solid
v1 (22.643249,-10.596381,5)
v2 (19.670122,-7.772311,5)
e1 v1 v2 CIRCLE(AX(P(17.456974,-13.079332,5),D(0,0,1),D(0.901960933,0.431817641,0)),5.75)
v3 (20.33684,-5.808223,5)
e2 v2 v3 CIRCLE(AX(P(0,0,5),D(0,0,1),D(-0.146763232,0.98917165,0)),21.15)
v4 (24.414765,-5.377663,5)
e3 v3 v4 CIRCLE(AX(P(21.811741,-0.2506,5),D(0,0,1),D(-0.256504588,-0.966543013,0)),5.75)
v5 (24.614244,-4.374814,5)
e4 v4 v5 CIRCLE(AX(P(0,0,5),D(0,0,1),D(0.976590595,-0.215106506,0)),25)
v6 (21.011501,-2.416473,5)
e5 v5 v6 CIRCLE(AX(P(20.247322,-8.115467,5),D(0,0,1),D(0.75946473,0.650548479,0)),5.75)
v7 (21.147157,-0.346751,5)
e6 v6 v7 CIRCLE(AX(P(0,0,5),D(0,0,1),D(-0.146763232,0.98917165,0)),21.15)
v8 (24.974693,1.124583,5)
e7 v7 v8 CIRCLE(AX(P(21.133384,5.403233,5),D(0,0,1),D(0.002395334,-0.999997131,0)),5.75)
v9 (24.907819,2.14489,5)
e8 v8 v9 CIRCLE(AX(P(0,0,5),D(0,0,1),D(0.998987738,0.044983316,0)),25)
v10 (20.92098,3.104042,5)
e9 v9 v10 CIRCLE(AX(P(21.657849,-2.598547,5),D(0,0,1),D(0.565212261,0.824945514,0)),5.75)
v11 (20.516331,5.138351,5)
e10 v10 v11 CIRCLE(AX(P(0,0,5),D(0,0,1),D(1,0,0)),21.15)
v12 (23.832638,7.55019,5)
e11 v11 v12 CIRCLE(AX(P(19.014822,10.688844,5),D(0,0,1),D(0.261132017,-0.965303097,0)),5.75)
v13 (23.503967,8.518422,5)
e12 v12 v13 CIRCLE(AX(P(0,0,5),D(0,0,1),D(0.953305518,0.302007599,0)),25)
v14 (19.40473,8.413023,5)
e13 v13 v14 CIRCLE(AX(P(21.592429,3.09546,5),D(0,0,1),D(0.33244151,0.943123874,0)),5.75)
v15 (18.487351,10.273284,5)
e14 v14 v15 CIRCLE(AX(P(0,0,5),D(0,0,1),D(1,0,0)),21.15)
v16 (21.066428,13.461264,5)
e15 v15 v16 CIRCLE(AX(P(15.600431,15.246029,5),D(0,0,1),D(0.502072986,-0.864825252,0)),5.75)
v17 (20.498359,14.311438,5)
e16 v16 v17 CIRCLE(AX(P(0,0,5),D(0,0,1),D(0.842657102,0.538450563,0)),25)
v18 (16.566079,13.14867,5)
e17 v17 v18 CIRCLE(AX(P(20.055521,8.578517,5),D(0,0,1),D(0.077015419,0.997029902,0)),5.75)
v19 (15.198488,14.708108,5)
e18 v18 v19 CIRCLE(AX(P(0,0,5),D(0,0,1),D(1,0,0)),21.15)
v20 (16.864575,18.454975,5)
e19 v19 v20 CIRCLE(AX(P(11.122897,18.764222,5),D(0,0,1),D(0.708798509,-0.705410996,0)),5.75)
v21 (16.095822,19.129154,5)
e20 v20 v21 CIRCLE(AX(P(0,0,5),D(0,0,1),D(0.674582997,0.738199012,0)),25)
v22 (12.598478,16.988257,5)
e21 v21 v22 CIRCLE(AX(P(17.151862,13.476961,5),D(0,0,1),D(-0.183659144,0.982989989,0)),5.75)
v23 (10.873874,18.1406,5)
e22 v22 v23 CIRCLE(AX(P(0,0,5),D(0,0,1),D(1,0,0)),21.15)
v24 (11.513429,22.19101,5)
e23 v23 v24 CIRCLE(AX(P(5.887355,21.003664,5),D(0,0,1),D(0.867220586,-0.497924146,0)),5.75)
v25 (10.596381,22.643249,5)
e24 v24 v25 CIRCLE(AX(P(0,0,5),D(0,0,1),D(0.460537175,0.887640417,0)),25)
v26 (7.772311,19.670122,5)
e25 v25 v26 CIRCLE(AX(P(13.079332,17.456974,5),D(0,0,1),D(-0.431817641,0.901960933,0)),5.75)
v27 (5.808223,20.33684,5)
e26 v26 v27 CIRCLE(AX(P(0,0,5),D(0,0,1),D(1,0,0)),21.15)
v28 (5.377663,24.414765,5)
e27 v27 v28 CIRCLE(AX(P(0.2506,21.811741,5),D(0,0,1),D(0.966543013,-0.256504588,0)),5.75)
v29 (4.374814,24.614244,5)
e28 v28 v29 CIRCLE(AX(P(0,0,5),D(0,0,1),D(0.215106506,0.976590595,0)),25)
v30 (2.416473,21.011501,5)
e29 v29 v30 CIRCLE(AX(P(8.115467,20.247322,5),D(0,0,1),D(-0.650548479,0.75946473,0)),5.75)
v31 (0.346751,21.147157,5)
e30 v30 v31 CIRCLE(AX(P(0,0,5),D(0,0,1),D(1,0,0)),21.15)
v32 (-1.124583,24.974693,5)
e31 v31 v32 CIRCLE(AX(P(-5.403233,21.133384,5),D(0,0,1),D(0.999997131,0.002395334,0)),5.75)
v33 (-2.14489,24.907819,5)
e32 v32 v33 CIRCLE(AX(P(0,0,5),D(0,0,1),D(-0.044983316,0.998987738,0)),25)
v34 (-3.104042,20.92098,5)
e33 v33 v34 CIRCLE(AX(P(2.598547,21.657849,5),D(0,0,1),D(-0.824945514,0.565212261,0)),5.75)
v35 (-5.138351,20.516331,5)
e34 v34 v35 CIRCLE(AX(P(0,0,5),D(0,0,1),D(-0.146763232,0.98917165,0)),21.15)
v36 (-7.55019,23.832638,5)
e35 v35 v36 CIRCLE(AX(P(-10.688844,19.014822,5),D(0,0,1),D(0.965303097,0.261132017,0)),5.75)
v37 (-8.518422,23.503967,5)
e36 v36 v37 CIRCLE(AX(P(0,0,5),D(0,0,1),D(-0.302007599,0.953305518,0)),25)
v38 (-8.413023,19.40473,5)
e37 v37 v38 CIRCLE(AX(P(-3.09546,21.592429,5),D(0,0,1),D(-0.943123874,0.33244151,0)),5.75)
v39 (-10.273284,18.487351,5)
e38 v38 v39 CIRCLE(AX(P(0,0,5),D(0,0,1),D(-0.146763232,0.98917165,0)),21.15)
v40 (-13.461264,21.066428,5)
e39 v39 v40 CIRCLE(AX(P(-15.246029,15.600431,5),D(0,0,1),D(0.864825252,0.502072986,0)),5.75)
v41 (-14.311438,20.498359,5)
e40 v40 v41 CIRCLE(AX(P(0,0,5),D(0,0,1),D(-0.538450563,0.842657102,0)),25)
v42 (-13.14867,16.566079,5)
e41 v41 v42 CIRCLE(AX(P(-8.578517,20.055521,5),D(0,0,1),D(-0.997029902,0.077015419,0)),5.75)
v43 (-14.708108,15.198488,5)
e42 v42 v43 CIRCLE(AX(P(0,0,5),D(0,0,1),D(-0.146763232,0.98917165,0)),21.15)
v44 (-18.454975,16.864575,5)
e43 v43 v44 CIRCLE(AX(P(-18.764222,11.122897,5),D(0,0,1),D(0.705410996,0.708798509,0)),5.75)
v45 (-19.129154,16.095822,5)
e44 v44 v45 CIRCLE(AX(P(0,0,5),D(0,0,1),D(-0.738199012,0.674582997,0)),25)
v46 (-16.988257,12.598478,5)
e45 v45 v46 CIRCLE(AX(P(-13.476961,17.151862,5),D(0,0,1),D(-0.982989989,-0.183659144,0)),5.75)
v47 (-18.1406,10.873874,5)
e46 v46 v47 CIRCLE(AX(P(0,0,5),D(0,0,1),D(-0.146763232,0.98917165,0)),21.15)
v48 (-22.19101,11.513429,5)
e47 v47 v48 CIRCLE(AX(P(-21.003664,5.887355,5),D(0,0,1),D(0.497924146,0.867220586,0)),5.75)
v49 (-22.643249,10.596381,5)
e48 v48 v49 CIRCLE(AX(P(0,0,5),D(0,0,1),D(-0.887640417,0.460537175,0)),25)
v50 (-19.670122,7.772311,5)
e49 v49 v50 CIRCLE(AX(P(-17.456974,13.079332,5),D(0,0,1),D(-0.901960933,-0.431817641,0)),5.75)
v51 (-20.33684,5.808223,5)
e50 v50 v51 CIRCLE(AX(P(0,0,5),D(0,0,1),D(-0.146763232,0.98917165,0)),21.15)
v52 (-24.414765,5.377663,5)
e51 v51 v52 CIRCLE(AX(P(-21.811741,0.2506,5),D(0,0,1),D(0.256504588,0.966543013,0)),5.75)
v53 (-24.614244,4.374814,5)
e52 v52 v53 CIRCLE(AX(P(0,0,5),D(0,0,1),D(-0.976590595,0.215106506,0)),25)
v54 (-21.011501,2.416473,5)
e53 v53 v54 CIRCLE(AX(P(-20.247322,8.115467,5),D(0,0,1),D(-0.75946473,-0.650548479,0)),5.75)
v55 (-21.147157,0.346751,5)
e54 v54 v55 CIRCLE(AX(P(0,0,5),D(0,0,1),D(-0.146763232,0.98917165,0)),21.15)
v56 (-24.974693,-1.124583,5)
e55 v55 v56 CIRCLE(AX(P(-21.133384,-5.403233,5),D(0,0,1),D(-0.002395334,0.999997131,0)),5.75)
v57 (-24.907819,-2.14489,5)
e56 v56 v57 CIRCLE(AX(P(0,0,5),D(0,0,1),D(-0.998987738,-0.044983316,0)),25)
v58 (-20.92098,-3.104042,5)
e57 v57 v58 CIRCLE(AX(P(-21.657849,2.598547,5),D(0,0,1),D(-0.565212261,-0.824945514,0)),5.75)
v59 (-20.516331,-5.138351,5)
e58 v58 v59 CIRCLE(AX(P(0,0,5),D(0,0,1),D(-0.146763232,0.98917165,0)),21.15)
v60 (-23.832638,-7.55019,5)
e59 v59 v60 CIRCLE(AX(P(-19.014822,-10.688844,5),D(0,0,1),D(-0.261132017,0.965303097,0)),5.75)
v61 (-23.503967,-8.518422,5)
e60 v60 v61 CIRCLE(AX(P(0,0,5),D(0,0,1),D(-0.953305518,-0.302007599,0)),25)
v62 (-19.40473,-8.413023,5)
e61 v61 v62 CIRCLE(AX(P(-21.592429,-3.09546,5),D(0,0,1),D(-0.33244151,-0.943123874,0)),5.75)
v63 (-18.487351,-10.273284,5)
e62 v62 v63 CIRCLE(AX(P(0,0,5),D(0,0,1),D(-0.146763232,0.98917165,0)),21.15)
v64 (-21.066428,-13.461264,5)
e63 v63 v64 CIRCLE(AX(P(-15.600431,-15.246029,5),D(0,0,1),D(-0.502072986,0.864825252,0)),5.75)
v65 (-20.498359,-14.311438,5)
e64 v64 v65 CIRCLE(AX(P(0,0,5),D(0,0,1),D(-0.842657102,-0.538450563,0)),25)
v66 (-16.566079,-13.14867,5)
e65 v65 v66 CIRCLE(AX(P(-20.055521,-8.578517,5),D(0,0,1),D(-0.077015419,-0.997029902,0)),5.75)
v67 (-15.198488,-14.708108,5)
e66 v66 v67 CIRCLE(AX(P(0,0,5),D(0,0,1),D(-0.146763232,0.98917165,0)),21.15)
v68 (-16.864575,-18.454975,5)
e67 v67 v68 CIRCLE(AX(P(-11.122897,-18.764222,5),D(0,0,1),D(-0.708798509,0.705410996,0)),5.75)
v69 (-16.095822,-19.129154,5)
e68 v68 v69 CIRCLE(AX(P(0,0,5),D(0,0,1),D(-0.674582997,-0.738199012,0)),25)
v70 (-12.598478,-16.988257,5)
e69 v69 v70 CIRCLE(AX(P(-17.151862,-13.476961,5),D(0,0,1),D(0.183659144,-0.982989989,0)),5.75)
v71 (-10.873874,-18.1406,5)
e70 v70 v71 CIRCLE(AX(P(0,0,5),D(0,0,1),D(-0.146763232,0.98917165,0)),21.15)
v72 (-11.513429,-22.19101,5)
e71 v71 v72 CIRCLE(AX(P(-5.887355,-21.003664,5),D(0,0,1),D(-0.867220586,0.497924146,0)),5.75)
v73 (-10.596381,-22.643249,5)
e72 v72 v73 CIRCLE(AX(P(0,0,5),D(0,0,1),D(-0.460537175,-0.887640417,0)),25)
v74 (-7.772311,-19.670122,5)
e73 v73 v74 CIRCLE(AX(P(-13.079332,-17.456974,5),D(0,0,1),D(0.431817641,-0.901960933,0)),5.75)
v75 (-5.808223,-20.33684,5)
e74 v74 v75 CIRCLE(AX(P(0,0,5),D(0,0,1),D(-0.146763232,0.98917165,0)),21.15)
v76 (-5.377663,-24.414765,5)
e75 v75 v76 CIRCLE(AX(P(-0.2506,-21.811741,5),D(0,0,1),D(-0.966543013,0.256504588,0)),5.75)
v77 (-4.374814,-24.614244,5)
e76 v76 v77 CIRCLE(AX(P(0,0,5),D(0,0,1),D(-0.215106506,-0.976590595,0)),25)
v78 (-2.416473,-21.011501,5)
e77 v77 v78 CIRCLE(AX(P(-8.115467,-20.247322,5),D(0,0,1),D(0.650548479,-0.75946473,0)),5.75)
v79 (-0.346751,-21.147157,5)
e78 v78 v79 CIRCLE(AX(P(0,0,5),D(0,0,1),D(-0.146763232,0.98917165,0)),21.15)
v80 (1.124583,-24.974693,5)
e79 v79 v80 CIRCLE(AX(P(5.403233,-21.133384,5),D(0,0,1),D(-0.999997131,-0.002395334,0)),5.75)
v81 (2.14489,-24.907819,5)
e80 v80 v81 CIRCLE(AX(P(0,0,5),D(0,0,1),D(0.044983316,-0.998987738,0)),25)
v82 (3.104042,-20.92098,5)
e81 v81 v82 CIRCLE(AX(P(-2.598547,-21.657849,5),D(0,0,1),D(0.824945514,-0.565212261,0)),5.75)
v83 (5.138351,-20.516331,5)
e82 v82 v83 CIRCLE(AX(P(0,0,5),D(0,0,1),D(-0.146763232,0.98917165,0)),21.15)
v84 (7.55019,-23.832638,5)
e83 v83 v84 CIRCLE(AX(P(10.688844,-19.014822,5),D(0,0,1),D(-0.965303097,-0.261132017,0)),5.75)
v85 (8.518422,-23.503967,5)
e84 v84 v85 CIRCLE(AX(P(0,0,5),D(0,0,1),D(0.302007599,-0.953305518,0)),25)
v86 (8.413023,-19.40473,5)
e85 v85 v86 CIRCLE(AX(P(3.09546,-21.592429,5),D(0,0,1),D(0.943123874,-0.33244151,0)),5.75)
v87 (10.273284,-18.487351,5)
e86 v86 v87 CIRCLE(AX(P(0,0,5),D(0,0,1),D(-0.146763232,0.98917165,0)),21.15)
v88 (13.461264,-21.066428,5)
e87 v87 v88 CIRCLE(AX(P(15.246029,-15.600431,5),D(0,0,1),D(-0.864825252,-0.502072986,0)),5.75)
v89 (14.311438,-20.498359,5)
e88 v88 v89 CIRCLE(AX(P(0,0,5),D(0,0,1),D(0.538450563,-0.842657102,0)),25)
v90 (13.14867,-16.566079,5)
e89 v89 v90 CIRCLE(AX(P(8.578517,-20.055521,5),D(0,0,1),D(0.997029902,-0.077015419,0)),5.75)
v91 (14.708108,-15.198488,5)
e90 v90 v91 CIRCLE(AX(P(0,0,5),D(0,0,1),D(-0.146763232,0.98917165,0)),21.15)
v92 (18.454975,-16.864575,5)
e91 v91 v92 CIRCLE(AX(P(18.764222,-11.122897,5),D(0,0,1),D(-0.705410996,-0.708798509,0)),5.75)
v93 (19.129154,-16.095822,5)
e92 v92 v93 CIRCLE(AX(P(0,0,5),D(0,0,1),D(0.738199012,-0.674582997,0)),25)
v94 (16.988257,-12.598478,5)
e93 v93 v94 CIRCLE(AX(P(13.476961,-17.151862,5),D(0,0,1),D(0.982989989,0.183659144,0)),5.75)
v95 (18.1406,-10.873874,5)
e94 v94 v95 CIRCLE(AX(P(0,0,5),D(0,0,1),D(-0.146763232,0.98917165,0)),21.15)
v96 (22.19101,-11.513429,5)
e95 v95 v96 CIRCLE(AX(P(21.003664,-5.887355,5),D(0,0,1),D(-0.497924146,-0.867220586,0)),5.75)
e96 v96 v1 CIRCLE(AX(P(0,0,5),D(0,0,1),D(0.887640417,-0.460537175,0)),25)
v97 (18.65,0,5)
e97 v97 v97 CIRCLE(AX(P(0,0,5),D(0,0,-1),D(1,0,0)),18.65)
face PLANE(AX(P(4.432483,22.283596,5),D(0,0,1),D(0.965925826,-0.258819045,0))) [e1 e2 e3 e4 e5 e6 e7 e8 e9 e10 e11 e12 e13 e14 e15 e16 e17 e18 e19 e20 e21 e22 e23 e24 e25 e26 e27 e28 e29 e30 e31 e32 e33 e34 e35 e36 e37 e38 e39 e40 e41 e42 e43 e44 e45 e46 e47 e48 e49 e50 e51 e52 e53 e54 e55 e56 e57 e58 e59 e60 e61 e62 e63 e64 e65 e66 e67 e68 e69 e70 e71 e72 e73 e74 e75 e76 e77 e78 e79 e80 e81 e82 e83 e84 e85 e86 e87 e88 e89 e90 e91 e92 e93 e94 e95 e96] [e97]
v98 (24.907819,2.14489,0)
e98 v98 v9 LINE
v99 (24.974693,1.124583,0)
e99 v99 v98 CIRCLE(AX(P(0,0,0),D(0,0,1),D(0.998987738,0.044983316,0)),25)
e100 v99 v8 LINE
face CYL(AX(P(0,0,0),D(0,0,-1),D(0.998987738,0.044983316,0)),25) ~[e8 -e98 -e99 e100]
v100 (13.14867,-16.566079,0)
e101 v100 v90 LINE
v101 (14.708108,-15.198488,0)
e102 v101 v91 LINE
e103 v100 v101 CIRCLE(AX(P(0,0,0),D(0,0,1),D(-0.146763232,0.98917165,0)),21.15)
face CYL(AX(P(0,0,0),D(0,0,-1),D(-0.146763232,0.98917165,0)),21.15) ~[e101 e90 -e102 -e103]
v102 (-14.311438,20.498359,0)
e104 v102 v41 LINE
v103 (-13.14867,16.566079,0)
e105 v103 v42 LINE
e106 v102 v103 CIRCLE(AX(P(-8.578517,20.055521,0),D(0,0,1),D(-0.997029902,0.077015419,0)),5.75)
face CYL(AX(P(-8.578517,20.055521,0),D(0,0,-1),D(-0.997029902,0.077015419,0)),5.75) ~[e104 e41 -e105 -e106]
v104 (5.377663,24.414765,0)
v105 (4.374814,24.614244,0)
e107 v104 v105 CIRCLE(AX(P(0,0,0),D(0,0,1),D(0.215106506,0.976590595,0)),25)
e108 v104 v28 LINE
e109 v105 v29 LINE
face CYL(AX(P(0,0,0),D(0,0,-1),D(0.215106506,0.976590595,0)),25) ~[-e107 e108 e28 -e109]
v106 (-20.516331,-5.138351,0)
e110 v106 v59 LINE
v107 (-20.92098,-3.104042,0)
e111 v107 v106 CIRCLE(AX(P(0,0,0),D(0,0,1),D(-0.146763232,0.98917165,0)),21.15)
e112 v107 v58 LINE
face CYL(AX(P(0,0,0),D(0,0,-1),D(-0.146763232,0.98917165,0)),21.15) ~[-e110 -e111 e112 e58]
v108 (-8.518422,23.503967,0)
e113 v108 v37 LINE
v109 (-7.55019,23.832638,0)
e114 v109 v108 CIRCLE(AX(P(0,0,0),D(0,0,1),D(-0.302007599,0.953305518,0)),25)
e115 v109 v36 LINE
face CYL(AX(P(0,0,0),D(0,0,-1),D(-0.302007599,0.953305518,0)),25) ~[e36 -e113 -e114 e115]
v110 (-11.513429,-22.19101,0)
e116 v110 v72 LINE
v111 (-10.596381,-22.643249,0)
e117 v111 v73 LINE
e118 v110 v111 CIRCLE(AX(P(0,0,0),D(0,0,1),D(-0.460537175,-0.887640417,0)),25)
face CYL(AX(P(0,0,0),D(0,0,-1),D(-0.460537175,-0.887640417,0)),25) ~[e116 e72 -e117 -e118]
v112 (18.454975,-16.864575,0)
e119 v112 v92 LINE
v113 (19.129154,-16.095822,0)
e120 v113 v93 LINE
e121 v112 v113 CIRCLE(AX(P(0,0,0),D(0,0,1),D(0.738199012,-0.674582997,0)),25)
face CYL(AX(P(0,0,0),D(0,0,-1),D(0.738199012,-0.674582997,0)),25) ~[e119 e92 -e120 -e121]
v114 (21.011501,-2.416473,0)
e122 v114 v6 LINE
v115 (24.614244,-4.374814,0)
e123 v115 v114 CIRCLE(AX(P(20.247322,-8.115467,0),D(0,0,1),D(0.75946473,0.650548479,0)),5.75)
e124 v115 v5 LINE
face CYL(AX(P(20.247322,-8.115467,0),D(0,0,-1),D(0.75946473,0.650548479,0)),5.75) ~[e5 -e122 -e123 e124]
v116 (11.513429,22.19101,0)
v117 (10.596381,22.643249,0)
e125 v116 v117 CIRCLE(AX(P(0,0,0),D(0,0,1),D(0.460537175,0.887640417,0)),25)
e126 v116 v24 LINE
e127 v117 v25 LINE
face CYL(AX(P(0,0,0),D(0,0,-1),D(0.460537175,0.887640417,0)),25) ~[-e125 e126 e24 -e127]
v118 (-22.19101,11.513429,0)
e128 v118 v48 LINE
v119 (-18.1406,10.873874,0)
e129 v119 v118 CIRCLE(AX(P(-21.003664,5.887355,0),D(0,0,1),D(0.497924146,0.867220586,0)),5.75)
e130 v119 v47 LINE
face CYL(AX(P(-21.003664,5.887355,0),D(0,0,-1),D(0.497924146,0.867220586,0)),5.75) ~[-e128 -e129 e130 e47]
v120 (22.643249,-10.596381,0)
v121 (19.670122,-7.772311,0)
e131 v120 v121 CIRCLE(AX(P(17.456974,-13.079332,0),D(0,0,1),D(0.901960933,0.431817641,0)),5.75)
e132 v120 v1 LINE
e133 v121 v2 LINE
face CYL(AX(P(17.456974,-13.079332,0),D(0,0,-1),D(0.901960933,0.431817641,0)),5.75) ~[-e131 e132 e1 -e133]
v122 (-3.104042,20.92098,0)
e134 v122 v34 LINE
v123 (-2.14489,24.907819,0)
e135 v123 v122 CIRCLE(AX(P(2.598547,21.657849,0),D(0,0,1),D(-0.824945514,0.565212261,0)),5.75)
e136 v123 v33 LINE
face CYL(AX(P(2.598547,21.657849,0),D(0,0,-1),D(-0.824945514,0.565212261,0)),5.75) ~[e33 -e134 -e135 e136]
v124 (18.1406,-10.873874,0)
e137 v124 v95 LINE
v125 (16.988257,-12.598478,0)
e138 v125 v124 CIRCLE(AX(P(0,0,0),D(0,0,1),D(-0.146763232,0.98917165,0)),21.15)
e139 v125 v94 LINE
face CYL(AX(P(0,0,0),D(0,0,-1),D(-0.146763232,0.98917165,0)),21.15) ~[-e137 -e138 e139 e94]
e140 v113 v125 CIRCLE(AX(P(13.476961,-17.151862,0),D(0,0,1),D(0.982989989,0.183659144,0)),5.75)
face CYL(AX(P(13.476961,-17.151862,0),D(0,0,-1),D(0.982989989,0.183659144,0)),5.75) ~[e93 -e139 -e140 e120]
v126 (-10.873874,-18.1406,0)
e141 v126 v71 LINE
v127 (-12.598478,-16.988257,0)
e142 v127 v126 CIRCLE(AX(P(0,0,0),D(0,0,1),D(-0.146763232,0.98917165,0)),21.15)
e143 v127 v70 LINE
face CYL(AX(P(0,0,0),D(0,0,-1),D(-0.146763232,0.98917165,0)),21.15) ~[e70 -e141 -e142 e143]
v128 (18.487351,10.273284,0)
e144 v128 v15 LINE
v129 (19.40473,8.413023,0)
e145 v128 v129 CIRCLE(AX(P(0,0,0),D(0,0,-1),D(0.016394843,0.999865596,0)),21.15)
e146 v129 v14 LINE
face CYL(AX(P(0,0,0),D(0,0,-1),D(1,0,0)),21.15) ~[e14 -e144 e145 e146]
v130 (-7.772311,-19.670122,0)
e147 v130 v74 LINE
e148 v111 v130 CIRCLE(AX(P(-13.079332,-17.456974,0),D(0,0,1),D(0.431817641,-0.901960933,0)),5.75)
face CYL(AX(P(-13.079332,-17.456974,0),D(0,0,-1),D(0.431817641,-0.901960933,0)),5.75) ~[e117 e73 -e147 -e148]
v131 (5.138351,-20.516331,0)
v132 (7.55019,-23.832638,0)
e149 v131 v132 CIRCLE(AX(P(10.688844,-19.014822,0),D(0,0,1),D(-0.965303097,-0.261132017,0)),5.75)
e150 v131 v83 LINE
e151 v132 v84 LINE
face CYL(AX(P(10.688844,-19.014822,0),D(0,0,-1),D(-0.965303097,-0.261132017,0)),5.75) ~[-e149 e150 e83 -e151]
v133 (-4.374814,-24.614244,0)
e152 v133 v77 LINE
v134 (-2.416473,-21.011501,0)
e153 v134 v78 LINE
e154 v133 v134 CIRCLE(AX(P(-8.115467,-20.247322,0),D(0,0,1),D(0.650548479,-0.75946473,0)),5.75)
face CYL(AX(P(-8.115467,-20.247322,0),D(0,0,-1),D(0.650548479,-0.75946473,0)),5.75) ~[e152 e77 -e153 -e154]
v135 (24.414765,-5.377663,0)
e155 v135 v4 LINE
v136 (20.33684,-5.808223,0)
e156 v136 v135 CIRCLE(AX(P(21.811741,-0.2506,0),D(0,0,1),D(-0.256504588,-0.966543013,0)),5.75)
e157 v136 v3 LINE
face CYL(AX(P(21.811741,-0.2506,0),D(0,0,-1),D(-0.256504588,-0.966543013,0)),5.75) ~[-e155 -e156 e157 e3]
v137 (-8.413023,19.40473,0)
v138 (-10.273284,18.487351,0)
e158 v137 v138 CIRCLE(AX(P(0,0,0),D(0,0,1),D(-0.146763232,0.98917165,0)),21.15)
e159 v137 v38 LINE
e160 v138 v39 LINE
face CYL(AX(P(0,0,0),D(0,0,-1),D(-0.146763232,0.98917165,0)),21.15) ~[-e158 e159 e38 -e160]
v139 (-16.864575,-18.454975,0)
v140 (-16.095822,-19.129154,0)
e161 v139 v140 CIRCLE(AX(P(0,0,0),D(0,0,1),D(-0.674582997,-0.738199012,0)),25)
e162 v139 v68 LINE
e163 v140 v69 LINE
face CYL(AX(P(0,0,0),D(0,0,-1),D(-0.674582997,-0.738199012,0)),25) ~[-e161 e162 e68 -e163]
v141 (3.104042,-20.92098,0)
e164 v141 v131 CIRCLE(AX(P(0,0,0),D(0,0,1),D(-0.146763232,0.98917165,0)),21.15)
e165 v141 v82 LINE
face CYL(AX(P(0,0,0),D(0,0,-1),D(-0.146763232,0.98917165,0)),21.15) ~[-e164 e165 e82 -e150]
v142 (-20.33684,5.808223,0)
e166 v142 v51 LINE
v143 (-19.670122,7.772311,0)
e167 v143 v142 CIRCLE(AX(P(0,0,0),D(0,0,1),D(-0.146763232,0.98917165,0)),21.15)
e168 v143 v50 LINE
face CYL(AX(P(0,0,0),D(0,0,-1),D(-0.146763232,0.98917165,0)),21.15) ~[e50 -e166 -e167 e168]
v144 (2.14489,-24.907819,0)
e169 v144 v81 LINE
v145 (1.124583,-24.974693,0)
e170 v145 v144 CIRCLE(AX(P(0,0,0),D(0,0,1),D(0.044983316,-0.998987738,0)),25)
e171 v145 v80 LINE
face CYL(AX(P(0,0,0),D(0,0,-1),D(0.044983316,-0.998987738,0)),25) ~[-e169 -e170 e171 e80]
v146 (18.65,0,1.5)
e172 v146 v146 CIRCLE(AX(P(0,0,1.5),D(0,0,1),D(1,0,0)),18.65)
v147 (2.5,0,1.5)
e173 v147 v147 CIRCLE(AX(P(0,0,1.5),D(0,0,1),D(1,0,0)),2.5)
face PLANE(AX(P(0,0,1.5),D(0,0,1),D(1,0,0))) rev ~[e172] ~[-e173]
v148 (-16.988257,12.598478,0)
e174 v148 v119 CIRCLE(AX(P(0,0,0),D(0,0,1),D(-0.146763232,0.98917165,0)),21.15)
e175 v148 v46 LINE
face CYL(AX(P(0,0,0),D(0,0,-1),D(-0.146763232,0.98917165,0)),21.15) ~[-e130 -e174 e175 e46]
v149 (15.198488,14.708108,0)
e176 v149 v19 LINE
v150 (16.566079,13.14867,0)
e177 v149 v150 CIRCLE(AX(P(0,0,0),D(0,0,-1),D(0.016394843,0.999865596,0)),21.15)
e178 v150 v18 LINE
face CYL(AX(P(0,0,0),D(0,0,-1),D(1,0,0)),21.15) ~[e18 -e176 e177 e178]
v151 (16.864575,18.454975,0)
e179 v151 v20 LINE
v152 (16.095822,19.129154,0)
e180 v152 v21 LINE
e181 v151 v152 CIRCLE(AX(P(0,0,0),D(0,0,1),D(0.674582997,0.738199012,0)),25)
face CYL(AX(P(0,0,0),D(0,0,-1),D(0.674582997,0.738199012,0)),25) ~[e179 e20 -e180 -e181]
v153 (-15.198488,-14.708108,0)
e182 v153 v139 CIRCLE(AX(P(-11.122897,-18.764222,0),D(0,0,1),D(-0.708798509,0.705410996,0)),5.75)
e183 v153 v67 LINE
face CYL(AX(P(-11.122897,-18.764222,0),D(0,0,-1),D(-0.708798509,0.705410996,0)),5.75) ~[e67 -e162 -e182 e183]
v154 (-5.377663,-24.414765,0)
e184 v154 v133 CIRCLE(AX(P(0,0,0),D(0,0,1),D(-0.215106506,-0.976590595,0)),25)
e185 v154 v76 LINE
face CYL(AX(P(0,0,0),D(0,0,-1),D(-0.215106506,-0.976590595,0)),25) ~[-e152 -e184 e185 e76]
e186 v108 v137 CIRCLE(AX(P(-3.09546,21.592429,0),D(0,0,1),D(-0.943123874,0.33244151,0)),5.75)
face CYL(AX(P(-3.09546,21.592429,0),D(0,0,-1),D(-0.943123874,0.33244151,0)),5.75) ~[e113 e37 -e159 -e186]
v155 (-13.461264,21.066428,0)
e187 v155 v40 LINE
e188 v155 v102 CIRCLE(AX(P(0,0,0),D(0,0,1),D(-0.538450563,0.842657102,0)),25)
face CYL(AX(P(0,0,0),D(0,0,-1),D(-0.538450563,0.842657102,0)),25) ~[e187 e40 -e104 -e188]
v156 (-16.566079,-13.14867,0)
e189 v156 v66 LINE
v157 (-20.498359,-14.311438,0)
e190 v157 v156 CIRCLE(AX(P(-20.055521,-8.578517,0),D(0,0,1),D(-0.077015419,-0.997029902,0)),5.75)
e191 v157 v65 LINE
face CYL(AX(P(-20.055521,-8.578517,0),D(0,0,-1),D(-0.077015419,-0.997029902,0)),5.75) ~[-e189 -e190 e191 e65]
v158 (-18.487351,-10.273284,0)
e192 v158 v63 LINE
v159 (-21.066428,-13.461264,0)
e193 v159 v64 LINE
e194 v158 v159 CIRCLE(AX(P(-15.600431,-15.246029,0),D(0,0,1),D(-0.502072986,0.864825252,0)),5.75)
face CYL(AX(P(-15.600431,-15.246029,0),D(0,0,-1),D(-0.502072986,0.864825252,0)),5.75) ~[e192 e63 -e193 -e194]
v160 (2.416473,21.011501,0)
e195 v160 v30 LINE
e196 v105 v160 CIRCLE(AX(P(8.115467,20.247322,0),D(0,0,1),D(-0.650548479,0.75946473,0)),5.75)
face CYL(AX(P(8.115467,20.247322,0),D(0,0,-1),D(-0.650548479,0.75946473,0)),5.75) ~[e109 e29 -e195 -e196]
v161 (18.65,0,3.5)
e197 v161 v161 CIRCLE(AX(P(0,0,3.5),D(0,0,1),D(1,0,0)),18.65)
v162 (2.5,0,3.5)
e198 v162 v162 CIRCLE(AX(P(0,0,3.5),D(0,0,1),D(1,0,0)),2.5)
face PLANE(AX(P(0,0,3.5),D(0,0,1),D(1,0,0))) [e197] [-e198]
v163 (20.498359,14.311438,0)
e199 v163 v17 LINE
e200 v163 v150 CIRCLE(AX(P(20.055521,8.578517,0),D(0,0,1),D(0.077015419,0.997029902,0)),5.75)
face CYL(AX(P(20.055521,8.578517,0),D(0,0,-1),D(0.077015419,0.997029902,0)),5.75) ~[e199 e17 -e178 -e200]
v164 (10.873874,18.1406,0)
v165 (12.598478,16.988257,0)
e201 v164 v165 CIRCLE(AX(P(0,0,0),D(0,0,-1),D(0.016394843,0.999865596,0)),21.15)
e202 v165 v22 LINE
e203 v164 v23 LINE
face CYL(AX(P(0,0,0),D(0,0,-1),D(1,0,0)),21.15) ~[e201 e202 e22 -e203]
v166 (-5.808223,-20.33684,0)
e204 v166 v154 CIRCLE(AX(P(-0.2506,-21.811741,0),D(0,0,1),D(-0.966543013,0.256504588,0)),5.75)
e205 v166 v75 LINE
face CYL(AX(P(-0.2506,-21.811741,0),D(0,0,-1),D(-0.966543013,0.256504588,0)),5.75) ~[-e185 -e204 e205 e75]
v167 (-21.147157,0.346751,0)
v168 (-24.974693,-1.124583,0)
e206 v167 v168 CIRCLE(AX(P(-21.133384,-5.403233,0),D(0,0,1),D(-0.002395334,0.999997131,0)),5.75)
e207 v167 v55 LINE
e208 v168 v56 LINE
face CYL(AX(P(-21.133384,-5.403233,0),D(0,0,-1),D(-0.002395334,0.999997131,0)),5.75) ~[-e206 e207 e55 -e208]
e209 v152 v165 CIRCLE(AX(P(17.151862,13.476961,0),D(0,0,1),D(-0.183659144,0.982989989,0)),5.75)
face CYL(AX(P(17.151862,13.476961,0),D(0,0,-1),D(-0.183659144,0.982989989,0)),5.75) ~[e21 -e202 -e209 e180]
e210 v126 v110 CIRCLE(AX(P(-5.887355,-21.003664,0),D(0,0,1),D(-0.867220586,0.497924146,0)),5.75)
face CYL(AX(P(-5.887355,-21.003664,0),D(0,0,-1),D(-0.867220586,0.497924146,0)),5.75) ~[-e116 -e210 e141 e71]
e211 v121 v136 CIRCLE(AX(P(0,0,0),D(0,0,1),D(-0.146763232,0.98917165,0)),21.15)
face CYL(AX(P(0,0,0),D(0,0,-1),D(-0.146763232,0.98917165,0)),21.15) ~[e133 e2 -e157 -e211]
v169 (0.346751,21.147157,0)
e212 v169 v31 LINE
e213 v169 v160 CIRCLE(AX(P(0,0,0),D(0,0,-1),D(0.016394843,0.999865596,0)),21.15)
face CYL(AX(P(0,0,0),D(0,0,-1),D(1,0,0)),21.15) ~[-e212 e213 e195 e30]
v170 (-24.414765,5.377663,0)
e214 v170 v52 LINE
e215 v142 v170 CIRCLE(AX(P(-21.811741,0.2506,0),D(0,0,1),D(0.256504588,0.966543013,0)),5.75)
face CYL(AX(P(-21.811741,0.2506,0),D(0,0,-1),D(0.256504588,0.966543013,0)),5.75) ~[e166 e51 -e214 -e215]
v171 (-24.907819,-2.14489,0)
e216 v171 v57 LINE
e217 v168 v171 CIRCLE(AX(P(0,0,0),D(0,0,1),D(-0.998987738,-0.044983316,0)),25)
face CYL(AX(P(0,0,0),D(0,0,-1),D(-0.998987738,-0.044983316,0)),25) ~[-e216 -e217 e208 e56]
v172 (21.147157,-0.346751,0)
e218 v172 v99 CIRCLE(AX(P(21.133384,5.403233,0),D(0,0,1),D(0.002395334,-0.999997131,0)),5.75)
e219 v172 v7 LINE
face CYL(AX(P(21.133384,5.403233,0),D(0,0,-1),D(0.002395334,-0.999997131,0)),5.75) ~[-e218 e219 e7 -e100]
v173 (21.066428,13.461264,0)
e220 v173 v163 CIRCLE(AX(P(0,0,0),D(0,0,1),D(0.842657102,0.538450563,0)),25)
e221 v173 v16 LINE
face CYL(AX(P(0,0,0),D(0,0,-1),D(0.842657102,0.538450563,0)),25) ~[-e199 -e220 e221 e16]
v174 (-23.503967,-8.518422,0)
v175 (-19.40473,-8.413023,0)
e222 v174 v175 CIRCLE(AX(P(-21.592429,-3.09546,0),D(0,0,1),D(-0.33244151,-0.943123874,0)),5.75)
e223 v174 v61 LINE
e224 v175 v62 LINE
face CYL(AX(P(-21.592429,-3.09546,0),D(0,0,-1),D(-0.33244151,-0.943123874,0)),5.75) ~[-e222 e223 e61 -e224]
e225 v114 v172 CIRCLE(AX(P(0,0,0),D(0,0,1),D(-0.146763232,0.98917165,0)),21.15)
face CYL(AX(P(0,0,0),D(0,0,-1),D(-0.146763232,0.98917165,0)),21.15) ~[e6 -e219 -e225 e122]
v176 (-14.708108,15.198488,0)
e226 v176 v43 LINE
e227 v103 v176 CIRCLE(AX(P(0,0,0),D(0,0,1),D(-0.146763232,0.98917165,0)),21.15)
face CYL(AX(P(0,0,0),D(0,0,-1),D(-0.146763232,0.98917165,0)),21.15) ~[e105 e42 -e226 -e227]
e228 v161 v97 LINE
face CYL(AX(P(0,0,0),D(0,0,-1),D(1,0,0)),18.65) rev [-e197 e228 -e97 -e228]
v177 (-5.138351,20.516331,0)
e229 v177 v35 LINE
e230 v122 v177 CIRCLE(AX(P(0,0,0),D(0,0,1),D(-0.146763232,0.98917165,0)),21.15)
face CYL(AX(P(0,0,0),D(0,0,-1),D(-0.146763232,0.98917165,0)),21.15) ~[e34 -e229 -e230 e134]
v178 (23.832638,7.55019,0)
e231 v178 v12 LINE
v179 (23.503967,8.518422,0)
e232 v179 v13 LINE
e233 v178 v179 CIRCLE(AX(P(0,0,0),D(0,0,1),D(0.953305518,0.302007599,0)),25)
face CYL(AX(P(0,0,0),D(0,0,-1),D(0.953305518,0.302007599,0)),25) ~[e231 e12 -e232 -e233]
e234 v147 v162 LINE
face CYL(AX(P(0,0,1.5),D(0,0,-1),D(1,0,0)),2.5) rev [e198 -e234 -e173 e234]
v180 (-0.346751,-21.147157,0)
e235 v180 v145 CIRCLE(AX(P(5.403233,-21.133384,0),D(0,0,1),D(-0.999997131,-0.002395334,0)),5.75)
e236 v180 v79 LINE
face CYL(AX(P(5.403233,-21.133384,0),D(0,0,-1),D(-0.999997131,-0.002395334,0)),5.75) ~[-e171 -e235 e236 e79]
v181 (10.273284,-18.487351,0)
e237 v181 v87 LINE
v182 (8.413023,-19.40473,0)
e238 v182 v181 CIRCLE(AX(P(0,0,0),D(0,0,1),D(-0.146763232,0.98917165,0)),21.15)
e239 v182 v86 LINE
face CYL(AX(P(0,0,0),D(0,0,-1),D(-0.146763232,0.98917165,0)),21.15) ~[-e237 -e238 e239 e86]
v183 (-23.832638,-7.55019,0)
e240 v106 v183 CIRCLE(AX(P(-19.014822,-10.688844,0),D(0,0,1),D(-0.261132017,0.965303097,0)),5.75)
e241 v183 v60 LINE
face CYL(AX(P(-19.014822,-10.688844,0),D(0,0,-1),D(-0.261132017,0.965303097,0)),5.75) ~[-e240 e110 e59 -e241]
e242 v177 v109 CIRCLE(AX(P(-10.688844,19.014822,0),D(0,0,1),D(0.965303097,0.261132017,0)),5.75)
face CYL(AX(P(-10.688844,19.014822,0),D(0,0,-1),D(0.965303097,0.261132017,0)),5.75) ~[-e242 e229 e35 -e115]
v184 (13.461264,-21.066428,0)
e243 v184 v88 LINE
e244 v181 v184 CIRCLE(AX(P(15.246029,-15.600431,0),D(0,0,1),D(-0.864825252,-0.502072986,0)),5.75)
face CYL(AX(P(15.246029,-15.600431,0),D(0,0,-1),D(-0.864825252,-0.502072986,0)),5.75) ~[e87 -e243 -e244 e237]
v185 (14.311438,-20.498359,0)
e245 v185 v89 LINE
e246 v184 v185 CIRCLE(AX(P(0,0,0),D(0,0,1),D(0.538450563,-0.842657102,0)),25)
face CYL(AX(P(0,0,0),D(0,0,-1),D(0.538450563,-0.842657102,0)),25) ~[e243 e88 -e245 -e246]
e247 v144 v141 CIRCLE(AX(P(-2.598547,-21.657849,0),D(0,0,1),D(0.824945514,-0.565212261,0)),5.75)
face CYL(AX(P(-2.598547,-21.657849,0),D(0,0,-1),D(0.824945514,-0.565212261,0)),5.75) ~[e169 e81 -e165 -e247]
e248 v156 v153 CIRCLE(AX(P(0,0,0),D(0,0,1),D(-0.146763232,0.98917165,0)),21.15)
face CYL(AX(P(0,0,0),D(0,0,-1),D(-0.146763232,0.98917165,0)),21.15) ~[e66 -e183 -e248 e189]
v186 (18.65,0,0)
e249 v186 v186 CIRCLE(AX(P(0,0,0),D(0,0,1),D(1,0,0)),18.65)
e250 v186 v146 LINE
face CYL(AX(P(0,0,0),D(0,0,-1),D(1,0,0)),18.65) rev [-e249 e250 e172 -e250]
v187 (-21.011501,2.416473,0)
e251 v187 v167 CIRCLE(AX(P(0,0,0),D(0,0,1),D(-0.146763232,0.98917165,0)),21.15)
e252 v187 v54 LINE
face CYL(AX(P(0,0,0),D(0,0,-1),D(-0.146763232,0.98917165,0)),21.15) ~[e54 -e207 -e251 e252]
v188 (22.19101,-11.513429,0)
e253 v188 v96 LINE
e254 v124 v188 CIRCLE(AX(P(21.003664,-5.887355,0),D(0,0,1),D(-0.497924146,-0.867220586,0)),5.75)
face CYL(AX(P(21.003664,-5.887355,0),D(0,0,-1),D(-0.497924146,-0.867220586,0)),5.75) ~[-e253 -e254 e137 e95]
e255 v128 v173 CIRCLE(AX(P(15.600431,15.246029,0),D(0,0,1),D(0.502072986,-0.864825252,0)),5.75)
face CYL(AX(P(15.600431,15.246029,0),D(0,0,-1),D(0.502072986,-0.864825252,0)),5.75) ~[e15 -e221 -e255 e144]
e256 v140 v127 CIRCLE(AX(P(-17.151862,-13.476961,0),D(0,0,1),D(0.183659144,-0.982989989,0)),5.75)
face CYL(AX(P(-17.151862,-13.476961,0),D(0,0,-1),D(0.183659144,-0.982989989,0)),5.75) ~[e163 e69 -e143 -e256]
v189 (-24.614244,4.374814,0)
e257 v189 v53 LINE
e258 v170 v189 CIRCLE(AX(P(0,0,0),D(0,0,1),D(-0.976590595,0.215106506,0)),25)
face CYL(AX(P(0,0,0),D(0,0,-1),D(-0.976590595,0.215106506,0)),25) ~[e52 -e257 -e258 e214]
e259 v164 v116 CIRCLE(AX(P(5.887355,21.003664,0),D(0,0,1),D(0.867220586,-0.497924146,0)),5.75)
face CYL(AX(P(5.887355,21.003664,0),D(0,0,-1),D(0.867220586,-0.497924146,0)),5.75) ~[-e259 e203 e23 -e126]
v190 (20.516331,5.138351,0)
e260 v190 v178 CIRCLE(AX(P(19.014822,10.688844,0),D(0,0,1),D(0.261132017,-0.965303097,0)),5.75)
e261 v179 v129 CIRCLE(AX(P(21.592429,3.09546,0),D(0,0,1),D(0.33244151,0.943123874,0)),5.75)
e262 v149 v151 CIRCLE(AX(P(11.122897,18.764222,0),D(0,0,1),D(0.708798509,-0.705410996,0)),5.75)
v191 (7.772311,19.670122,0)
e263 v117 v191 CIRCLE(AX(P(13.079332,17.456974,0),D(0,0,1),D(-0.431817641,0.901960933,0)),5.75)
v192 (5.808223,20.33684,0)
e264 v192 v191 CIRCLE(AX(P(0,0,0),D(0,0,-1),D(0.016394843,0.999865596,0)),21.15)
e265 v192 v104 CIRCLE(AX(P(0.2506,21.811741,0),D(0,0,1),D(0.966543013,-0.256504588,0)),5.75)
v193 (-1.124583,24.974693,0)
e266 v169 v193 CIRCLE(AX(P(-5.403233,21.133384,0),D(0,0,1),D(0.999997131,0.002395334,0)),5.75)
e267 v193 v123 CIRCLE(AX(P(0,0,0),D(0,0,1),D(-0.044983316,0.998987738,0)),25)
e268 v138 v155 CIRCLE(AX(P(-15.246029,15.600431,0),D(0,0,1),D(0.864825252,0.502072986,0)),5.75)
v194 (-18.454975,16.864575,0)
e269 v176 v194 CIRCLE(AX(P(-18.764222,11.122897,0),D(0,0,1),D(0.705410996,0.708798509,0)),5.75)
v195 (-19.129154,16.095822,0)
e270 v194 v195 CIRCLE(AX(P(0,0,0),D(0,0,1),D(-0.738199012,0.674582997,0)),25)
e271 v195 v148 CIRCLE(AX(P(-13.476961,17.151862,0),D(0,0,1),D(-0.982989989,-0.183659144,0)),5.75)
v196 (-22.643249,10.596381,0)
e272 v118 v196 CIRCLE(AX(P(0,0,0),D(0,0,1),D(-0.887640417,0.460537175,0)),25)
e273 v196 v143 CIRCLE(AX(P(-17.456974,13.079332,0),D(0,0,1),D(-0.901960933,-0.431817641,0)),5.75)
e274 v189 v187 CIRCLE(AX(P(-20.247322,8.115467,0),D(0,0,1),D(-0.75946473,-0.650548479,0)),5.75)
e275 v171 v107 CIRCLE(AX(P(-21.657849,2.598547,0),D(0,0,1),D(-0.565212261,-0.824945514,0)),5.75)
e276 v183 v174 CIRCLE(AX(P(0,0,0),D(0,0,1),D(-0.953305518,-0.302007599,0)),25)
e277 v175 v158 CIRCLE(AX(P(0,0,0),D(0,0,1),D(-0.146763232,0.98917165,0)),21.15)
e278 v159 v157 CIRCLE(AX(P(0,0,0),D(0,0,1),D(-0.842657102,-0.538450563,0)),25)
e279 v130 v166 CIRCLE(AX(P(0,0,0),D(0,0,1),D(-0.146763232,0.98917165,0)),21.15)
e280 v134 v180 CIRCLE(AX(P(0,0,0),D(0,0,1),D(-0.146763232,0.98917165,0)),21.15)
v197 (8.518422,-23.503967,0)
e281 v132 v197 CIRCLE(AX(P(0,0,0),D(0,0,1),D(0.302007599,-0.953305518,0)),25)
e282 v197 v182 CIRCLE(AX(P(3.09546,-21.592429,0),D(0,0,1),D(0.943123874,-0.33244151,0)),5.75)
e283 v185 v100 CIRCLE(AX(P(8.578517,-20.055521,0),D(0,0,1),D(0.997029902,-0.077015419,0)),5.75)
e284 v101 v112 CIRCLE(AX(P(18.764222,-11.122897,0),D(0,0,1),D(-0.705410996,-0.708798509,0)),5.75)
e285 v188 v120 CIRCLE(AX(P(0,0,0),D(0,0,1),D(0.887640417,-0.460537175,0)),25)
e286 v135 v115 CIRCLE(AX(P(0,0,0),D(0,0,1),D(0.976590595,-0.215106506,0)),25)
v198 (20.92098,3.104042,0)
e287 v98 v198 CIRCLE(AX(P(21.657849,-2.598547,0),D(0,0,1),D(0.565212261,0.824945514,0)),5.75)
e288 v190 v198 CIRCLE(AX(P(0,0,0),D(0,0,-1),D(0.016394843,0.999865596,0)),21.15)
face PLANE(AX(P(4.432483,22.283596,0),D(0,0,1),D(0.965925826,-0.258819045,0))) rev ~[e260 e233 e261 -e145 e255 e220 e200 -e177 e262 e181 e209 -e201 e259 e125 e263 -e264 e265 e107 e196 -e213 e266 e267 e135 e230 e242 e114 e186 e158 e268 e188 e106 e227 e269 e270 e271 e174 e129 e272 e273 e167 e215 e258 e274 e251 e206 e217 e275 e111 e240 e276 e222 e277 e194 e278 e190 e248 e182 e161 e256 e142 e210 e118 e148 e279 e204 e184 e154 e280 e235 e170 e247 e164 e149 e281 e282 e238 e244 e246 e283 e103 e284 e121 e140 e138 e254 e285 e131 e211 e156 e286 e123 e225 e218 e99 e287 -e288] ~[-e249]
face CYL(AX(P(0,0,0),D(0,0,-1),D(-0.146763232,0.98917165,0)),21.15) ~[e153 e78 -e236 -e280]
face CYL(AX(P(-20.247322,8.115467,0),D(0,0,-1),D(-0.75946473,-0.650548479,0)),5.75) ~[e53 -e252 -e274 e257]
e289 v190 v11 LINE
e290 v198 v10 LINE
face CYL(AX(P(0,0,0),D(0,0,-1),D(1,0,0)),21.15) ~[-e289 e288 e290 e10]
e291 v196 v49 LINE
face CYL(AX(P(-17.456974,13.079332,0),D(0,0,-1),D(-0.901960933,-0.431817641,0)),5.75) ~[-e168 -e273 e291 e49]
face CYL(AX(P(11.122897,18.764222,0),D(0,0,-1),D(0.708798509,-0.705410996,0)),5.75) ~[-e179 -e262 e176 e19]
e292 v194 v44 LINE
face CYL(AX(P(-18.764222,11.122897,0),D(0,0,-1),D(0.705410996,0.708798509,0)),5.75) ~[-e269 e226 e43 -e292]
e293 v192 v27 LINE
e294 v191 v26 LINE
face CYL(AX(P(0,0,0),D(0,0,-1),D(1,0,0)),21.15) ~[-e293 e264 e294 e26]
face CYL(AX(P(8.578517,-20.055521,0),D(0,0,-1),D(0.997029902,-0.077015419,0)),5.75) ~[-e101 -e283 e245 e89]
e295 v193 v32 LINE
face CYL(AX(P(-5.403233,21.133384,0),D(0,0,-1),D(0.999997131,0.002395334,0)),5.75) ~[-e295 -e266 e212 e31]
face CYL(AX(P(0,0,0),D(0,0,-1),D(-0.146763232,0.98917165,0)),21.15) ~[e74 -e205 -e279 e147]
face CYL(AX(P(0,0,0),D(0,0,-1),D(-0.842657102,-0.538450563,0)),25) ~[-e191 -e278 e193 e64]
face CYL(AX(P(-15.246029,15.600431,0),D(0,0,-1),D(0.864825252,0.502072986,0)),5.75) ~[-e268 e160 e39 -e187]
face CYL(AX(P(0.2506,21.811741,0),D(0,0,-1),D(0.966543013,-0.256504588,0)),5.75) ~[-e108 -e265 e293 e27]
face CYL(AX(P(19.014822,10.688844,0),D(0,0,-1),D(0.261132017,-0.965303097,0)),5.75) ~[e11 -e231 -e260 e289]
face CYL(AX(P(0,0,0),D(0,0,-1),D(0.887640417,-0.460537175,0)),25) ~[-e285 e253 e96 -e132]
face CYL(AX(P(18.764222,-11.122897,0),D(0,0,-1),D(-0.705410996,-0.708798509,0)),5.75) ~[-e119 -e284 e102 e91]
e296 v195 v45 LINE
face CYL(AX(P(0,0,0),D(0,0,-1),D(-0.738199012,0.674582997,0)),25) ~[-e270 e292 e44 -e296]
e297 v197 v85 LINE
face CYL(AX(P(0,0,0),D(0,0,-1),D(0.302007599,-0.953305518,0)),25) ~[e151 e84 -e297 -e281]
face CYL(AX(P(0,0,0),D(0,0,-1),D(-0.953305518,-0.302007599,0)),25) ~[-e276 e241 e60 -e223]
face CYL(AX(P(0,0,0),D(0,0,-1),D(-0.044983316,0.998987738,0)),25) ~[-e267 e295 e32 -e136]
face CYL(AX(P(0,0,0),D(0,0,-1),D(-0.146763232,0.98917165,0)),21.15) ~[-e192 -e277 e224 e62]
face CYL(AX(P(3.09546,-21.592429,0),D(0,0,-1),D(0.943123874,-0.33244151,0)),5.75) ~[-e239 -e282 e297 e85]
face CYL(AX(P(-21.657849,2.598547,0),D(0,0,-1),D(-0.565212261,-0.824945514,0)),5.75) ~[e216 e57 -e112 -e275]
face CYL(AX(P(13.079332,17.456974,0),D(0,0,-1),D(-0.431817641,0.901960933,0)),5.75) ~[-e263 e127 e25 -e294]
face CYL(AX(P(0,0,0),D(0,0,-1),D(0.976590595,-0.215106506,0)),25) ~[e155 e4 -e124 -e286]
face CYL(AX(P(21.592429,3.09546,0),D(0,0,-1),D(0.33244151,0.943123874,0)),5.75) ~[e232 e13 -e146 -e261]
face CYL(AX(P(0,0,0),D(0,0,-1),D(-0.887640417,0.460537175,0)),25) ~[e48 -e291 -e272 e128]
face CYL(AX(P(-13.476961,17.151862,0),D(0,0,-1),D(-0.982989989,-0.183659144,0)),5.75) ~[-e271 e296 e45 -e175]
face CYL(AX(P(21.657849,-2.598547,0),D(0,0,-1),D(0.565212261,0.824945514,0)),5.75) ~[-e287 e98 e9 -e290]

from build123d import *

# Parameters (mm, degrees)
F0_R     = 18.65
F1_DEPTH = 5
F3_COUNT = 24
F3_ANGLE = 345
F4_START = 1.5
F0_R_2   = 2.5
F4_DEPTH = 2


with BuildPart() as f1:
    # F0 (on Top) → F1 (new body)
    with BuildSketch(Plane.XY):
        with BuildLine():
            ThreePointArc((-3.104042357, 20.9209804035), (-1.3832761832, 21.1047162265), (0.3467509348, 21.1471573454))
            ThreePointArc((0.3467509348, 21.1471573454), (-0.036121707, 23.1965421895), (-1.1245828991, 24.9746934576))
            ThreePointArc((-1.1245828991, 24.9746934576), (-1.6350782308, 24.946473081), (-2.1448897024, 24.9078190166))
            ThreePointArc((-2.1448897024, 24.9078190166), (-2.9919436439, 23.0028073843), (-3.104042357, 20.9209804035))
        make_face()
        with BuildLine():
            ThreePointArc((-3.104042357, 20.9209804035), (-13.8143404502, -16.0151958441), (21.15, 0))
            ThreePointArc((21.15, 0), (15.0774049868, 14.8322068103), (0.3467509348, 21.1471573454))
            ThreePointArc((0.3467509348, 21.1471573454), (-1.3832761832, 21.1047162265), (-3.104042357, 20.9209804035))
        make_face()
        Circle(F0_R, mode=Mode.SUBTRACT)
    extrude(amount=F1_DEPTH)

    # F3: F1 ×24 about axis
    f3_axis = Axis((0, 0, 14.1120515764), (0, 0, 1))


with BuildPart() as f1_1:
    add(f1.part)
    for i in range(1, F3_COUNT):
        add(f1.part.rotate(f3_axis, i * F3_ANGLE / (F3_COUNT - 1)))

    # F0 (on Top) → F4 (join)
    with BuildSketch(Plane.XY.offset(F4_START)):
        Circle(F0_R)
        Circle(F0_R_2, mode=Mode.SUBTRACT)
    extrude(amount=F4_DEPTH)


solid = f1_1.part
